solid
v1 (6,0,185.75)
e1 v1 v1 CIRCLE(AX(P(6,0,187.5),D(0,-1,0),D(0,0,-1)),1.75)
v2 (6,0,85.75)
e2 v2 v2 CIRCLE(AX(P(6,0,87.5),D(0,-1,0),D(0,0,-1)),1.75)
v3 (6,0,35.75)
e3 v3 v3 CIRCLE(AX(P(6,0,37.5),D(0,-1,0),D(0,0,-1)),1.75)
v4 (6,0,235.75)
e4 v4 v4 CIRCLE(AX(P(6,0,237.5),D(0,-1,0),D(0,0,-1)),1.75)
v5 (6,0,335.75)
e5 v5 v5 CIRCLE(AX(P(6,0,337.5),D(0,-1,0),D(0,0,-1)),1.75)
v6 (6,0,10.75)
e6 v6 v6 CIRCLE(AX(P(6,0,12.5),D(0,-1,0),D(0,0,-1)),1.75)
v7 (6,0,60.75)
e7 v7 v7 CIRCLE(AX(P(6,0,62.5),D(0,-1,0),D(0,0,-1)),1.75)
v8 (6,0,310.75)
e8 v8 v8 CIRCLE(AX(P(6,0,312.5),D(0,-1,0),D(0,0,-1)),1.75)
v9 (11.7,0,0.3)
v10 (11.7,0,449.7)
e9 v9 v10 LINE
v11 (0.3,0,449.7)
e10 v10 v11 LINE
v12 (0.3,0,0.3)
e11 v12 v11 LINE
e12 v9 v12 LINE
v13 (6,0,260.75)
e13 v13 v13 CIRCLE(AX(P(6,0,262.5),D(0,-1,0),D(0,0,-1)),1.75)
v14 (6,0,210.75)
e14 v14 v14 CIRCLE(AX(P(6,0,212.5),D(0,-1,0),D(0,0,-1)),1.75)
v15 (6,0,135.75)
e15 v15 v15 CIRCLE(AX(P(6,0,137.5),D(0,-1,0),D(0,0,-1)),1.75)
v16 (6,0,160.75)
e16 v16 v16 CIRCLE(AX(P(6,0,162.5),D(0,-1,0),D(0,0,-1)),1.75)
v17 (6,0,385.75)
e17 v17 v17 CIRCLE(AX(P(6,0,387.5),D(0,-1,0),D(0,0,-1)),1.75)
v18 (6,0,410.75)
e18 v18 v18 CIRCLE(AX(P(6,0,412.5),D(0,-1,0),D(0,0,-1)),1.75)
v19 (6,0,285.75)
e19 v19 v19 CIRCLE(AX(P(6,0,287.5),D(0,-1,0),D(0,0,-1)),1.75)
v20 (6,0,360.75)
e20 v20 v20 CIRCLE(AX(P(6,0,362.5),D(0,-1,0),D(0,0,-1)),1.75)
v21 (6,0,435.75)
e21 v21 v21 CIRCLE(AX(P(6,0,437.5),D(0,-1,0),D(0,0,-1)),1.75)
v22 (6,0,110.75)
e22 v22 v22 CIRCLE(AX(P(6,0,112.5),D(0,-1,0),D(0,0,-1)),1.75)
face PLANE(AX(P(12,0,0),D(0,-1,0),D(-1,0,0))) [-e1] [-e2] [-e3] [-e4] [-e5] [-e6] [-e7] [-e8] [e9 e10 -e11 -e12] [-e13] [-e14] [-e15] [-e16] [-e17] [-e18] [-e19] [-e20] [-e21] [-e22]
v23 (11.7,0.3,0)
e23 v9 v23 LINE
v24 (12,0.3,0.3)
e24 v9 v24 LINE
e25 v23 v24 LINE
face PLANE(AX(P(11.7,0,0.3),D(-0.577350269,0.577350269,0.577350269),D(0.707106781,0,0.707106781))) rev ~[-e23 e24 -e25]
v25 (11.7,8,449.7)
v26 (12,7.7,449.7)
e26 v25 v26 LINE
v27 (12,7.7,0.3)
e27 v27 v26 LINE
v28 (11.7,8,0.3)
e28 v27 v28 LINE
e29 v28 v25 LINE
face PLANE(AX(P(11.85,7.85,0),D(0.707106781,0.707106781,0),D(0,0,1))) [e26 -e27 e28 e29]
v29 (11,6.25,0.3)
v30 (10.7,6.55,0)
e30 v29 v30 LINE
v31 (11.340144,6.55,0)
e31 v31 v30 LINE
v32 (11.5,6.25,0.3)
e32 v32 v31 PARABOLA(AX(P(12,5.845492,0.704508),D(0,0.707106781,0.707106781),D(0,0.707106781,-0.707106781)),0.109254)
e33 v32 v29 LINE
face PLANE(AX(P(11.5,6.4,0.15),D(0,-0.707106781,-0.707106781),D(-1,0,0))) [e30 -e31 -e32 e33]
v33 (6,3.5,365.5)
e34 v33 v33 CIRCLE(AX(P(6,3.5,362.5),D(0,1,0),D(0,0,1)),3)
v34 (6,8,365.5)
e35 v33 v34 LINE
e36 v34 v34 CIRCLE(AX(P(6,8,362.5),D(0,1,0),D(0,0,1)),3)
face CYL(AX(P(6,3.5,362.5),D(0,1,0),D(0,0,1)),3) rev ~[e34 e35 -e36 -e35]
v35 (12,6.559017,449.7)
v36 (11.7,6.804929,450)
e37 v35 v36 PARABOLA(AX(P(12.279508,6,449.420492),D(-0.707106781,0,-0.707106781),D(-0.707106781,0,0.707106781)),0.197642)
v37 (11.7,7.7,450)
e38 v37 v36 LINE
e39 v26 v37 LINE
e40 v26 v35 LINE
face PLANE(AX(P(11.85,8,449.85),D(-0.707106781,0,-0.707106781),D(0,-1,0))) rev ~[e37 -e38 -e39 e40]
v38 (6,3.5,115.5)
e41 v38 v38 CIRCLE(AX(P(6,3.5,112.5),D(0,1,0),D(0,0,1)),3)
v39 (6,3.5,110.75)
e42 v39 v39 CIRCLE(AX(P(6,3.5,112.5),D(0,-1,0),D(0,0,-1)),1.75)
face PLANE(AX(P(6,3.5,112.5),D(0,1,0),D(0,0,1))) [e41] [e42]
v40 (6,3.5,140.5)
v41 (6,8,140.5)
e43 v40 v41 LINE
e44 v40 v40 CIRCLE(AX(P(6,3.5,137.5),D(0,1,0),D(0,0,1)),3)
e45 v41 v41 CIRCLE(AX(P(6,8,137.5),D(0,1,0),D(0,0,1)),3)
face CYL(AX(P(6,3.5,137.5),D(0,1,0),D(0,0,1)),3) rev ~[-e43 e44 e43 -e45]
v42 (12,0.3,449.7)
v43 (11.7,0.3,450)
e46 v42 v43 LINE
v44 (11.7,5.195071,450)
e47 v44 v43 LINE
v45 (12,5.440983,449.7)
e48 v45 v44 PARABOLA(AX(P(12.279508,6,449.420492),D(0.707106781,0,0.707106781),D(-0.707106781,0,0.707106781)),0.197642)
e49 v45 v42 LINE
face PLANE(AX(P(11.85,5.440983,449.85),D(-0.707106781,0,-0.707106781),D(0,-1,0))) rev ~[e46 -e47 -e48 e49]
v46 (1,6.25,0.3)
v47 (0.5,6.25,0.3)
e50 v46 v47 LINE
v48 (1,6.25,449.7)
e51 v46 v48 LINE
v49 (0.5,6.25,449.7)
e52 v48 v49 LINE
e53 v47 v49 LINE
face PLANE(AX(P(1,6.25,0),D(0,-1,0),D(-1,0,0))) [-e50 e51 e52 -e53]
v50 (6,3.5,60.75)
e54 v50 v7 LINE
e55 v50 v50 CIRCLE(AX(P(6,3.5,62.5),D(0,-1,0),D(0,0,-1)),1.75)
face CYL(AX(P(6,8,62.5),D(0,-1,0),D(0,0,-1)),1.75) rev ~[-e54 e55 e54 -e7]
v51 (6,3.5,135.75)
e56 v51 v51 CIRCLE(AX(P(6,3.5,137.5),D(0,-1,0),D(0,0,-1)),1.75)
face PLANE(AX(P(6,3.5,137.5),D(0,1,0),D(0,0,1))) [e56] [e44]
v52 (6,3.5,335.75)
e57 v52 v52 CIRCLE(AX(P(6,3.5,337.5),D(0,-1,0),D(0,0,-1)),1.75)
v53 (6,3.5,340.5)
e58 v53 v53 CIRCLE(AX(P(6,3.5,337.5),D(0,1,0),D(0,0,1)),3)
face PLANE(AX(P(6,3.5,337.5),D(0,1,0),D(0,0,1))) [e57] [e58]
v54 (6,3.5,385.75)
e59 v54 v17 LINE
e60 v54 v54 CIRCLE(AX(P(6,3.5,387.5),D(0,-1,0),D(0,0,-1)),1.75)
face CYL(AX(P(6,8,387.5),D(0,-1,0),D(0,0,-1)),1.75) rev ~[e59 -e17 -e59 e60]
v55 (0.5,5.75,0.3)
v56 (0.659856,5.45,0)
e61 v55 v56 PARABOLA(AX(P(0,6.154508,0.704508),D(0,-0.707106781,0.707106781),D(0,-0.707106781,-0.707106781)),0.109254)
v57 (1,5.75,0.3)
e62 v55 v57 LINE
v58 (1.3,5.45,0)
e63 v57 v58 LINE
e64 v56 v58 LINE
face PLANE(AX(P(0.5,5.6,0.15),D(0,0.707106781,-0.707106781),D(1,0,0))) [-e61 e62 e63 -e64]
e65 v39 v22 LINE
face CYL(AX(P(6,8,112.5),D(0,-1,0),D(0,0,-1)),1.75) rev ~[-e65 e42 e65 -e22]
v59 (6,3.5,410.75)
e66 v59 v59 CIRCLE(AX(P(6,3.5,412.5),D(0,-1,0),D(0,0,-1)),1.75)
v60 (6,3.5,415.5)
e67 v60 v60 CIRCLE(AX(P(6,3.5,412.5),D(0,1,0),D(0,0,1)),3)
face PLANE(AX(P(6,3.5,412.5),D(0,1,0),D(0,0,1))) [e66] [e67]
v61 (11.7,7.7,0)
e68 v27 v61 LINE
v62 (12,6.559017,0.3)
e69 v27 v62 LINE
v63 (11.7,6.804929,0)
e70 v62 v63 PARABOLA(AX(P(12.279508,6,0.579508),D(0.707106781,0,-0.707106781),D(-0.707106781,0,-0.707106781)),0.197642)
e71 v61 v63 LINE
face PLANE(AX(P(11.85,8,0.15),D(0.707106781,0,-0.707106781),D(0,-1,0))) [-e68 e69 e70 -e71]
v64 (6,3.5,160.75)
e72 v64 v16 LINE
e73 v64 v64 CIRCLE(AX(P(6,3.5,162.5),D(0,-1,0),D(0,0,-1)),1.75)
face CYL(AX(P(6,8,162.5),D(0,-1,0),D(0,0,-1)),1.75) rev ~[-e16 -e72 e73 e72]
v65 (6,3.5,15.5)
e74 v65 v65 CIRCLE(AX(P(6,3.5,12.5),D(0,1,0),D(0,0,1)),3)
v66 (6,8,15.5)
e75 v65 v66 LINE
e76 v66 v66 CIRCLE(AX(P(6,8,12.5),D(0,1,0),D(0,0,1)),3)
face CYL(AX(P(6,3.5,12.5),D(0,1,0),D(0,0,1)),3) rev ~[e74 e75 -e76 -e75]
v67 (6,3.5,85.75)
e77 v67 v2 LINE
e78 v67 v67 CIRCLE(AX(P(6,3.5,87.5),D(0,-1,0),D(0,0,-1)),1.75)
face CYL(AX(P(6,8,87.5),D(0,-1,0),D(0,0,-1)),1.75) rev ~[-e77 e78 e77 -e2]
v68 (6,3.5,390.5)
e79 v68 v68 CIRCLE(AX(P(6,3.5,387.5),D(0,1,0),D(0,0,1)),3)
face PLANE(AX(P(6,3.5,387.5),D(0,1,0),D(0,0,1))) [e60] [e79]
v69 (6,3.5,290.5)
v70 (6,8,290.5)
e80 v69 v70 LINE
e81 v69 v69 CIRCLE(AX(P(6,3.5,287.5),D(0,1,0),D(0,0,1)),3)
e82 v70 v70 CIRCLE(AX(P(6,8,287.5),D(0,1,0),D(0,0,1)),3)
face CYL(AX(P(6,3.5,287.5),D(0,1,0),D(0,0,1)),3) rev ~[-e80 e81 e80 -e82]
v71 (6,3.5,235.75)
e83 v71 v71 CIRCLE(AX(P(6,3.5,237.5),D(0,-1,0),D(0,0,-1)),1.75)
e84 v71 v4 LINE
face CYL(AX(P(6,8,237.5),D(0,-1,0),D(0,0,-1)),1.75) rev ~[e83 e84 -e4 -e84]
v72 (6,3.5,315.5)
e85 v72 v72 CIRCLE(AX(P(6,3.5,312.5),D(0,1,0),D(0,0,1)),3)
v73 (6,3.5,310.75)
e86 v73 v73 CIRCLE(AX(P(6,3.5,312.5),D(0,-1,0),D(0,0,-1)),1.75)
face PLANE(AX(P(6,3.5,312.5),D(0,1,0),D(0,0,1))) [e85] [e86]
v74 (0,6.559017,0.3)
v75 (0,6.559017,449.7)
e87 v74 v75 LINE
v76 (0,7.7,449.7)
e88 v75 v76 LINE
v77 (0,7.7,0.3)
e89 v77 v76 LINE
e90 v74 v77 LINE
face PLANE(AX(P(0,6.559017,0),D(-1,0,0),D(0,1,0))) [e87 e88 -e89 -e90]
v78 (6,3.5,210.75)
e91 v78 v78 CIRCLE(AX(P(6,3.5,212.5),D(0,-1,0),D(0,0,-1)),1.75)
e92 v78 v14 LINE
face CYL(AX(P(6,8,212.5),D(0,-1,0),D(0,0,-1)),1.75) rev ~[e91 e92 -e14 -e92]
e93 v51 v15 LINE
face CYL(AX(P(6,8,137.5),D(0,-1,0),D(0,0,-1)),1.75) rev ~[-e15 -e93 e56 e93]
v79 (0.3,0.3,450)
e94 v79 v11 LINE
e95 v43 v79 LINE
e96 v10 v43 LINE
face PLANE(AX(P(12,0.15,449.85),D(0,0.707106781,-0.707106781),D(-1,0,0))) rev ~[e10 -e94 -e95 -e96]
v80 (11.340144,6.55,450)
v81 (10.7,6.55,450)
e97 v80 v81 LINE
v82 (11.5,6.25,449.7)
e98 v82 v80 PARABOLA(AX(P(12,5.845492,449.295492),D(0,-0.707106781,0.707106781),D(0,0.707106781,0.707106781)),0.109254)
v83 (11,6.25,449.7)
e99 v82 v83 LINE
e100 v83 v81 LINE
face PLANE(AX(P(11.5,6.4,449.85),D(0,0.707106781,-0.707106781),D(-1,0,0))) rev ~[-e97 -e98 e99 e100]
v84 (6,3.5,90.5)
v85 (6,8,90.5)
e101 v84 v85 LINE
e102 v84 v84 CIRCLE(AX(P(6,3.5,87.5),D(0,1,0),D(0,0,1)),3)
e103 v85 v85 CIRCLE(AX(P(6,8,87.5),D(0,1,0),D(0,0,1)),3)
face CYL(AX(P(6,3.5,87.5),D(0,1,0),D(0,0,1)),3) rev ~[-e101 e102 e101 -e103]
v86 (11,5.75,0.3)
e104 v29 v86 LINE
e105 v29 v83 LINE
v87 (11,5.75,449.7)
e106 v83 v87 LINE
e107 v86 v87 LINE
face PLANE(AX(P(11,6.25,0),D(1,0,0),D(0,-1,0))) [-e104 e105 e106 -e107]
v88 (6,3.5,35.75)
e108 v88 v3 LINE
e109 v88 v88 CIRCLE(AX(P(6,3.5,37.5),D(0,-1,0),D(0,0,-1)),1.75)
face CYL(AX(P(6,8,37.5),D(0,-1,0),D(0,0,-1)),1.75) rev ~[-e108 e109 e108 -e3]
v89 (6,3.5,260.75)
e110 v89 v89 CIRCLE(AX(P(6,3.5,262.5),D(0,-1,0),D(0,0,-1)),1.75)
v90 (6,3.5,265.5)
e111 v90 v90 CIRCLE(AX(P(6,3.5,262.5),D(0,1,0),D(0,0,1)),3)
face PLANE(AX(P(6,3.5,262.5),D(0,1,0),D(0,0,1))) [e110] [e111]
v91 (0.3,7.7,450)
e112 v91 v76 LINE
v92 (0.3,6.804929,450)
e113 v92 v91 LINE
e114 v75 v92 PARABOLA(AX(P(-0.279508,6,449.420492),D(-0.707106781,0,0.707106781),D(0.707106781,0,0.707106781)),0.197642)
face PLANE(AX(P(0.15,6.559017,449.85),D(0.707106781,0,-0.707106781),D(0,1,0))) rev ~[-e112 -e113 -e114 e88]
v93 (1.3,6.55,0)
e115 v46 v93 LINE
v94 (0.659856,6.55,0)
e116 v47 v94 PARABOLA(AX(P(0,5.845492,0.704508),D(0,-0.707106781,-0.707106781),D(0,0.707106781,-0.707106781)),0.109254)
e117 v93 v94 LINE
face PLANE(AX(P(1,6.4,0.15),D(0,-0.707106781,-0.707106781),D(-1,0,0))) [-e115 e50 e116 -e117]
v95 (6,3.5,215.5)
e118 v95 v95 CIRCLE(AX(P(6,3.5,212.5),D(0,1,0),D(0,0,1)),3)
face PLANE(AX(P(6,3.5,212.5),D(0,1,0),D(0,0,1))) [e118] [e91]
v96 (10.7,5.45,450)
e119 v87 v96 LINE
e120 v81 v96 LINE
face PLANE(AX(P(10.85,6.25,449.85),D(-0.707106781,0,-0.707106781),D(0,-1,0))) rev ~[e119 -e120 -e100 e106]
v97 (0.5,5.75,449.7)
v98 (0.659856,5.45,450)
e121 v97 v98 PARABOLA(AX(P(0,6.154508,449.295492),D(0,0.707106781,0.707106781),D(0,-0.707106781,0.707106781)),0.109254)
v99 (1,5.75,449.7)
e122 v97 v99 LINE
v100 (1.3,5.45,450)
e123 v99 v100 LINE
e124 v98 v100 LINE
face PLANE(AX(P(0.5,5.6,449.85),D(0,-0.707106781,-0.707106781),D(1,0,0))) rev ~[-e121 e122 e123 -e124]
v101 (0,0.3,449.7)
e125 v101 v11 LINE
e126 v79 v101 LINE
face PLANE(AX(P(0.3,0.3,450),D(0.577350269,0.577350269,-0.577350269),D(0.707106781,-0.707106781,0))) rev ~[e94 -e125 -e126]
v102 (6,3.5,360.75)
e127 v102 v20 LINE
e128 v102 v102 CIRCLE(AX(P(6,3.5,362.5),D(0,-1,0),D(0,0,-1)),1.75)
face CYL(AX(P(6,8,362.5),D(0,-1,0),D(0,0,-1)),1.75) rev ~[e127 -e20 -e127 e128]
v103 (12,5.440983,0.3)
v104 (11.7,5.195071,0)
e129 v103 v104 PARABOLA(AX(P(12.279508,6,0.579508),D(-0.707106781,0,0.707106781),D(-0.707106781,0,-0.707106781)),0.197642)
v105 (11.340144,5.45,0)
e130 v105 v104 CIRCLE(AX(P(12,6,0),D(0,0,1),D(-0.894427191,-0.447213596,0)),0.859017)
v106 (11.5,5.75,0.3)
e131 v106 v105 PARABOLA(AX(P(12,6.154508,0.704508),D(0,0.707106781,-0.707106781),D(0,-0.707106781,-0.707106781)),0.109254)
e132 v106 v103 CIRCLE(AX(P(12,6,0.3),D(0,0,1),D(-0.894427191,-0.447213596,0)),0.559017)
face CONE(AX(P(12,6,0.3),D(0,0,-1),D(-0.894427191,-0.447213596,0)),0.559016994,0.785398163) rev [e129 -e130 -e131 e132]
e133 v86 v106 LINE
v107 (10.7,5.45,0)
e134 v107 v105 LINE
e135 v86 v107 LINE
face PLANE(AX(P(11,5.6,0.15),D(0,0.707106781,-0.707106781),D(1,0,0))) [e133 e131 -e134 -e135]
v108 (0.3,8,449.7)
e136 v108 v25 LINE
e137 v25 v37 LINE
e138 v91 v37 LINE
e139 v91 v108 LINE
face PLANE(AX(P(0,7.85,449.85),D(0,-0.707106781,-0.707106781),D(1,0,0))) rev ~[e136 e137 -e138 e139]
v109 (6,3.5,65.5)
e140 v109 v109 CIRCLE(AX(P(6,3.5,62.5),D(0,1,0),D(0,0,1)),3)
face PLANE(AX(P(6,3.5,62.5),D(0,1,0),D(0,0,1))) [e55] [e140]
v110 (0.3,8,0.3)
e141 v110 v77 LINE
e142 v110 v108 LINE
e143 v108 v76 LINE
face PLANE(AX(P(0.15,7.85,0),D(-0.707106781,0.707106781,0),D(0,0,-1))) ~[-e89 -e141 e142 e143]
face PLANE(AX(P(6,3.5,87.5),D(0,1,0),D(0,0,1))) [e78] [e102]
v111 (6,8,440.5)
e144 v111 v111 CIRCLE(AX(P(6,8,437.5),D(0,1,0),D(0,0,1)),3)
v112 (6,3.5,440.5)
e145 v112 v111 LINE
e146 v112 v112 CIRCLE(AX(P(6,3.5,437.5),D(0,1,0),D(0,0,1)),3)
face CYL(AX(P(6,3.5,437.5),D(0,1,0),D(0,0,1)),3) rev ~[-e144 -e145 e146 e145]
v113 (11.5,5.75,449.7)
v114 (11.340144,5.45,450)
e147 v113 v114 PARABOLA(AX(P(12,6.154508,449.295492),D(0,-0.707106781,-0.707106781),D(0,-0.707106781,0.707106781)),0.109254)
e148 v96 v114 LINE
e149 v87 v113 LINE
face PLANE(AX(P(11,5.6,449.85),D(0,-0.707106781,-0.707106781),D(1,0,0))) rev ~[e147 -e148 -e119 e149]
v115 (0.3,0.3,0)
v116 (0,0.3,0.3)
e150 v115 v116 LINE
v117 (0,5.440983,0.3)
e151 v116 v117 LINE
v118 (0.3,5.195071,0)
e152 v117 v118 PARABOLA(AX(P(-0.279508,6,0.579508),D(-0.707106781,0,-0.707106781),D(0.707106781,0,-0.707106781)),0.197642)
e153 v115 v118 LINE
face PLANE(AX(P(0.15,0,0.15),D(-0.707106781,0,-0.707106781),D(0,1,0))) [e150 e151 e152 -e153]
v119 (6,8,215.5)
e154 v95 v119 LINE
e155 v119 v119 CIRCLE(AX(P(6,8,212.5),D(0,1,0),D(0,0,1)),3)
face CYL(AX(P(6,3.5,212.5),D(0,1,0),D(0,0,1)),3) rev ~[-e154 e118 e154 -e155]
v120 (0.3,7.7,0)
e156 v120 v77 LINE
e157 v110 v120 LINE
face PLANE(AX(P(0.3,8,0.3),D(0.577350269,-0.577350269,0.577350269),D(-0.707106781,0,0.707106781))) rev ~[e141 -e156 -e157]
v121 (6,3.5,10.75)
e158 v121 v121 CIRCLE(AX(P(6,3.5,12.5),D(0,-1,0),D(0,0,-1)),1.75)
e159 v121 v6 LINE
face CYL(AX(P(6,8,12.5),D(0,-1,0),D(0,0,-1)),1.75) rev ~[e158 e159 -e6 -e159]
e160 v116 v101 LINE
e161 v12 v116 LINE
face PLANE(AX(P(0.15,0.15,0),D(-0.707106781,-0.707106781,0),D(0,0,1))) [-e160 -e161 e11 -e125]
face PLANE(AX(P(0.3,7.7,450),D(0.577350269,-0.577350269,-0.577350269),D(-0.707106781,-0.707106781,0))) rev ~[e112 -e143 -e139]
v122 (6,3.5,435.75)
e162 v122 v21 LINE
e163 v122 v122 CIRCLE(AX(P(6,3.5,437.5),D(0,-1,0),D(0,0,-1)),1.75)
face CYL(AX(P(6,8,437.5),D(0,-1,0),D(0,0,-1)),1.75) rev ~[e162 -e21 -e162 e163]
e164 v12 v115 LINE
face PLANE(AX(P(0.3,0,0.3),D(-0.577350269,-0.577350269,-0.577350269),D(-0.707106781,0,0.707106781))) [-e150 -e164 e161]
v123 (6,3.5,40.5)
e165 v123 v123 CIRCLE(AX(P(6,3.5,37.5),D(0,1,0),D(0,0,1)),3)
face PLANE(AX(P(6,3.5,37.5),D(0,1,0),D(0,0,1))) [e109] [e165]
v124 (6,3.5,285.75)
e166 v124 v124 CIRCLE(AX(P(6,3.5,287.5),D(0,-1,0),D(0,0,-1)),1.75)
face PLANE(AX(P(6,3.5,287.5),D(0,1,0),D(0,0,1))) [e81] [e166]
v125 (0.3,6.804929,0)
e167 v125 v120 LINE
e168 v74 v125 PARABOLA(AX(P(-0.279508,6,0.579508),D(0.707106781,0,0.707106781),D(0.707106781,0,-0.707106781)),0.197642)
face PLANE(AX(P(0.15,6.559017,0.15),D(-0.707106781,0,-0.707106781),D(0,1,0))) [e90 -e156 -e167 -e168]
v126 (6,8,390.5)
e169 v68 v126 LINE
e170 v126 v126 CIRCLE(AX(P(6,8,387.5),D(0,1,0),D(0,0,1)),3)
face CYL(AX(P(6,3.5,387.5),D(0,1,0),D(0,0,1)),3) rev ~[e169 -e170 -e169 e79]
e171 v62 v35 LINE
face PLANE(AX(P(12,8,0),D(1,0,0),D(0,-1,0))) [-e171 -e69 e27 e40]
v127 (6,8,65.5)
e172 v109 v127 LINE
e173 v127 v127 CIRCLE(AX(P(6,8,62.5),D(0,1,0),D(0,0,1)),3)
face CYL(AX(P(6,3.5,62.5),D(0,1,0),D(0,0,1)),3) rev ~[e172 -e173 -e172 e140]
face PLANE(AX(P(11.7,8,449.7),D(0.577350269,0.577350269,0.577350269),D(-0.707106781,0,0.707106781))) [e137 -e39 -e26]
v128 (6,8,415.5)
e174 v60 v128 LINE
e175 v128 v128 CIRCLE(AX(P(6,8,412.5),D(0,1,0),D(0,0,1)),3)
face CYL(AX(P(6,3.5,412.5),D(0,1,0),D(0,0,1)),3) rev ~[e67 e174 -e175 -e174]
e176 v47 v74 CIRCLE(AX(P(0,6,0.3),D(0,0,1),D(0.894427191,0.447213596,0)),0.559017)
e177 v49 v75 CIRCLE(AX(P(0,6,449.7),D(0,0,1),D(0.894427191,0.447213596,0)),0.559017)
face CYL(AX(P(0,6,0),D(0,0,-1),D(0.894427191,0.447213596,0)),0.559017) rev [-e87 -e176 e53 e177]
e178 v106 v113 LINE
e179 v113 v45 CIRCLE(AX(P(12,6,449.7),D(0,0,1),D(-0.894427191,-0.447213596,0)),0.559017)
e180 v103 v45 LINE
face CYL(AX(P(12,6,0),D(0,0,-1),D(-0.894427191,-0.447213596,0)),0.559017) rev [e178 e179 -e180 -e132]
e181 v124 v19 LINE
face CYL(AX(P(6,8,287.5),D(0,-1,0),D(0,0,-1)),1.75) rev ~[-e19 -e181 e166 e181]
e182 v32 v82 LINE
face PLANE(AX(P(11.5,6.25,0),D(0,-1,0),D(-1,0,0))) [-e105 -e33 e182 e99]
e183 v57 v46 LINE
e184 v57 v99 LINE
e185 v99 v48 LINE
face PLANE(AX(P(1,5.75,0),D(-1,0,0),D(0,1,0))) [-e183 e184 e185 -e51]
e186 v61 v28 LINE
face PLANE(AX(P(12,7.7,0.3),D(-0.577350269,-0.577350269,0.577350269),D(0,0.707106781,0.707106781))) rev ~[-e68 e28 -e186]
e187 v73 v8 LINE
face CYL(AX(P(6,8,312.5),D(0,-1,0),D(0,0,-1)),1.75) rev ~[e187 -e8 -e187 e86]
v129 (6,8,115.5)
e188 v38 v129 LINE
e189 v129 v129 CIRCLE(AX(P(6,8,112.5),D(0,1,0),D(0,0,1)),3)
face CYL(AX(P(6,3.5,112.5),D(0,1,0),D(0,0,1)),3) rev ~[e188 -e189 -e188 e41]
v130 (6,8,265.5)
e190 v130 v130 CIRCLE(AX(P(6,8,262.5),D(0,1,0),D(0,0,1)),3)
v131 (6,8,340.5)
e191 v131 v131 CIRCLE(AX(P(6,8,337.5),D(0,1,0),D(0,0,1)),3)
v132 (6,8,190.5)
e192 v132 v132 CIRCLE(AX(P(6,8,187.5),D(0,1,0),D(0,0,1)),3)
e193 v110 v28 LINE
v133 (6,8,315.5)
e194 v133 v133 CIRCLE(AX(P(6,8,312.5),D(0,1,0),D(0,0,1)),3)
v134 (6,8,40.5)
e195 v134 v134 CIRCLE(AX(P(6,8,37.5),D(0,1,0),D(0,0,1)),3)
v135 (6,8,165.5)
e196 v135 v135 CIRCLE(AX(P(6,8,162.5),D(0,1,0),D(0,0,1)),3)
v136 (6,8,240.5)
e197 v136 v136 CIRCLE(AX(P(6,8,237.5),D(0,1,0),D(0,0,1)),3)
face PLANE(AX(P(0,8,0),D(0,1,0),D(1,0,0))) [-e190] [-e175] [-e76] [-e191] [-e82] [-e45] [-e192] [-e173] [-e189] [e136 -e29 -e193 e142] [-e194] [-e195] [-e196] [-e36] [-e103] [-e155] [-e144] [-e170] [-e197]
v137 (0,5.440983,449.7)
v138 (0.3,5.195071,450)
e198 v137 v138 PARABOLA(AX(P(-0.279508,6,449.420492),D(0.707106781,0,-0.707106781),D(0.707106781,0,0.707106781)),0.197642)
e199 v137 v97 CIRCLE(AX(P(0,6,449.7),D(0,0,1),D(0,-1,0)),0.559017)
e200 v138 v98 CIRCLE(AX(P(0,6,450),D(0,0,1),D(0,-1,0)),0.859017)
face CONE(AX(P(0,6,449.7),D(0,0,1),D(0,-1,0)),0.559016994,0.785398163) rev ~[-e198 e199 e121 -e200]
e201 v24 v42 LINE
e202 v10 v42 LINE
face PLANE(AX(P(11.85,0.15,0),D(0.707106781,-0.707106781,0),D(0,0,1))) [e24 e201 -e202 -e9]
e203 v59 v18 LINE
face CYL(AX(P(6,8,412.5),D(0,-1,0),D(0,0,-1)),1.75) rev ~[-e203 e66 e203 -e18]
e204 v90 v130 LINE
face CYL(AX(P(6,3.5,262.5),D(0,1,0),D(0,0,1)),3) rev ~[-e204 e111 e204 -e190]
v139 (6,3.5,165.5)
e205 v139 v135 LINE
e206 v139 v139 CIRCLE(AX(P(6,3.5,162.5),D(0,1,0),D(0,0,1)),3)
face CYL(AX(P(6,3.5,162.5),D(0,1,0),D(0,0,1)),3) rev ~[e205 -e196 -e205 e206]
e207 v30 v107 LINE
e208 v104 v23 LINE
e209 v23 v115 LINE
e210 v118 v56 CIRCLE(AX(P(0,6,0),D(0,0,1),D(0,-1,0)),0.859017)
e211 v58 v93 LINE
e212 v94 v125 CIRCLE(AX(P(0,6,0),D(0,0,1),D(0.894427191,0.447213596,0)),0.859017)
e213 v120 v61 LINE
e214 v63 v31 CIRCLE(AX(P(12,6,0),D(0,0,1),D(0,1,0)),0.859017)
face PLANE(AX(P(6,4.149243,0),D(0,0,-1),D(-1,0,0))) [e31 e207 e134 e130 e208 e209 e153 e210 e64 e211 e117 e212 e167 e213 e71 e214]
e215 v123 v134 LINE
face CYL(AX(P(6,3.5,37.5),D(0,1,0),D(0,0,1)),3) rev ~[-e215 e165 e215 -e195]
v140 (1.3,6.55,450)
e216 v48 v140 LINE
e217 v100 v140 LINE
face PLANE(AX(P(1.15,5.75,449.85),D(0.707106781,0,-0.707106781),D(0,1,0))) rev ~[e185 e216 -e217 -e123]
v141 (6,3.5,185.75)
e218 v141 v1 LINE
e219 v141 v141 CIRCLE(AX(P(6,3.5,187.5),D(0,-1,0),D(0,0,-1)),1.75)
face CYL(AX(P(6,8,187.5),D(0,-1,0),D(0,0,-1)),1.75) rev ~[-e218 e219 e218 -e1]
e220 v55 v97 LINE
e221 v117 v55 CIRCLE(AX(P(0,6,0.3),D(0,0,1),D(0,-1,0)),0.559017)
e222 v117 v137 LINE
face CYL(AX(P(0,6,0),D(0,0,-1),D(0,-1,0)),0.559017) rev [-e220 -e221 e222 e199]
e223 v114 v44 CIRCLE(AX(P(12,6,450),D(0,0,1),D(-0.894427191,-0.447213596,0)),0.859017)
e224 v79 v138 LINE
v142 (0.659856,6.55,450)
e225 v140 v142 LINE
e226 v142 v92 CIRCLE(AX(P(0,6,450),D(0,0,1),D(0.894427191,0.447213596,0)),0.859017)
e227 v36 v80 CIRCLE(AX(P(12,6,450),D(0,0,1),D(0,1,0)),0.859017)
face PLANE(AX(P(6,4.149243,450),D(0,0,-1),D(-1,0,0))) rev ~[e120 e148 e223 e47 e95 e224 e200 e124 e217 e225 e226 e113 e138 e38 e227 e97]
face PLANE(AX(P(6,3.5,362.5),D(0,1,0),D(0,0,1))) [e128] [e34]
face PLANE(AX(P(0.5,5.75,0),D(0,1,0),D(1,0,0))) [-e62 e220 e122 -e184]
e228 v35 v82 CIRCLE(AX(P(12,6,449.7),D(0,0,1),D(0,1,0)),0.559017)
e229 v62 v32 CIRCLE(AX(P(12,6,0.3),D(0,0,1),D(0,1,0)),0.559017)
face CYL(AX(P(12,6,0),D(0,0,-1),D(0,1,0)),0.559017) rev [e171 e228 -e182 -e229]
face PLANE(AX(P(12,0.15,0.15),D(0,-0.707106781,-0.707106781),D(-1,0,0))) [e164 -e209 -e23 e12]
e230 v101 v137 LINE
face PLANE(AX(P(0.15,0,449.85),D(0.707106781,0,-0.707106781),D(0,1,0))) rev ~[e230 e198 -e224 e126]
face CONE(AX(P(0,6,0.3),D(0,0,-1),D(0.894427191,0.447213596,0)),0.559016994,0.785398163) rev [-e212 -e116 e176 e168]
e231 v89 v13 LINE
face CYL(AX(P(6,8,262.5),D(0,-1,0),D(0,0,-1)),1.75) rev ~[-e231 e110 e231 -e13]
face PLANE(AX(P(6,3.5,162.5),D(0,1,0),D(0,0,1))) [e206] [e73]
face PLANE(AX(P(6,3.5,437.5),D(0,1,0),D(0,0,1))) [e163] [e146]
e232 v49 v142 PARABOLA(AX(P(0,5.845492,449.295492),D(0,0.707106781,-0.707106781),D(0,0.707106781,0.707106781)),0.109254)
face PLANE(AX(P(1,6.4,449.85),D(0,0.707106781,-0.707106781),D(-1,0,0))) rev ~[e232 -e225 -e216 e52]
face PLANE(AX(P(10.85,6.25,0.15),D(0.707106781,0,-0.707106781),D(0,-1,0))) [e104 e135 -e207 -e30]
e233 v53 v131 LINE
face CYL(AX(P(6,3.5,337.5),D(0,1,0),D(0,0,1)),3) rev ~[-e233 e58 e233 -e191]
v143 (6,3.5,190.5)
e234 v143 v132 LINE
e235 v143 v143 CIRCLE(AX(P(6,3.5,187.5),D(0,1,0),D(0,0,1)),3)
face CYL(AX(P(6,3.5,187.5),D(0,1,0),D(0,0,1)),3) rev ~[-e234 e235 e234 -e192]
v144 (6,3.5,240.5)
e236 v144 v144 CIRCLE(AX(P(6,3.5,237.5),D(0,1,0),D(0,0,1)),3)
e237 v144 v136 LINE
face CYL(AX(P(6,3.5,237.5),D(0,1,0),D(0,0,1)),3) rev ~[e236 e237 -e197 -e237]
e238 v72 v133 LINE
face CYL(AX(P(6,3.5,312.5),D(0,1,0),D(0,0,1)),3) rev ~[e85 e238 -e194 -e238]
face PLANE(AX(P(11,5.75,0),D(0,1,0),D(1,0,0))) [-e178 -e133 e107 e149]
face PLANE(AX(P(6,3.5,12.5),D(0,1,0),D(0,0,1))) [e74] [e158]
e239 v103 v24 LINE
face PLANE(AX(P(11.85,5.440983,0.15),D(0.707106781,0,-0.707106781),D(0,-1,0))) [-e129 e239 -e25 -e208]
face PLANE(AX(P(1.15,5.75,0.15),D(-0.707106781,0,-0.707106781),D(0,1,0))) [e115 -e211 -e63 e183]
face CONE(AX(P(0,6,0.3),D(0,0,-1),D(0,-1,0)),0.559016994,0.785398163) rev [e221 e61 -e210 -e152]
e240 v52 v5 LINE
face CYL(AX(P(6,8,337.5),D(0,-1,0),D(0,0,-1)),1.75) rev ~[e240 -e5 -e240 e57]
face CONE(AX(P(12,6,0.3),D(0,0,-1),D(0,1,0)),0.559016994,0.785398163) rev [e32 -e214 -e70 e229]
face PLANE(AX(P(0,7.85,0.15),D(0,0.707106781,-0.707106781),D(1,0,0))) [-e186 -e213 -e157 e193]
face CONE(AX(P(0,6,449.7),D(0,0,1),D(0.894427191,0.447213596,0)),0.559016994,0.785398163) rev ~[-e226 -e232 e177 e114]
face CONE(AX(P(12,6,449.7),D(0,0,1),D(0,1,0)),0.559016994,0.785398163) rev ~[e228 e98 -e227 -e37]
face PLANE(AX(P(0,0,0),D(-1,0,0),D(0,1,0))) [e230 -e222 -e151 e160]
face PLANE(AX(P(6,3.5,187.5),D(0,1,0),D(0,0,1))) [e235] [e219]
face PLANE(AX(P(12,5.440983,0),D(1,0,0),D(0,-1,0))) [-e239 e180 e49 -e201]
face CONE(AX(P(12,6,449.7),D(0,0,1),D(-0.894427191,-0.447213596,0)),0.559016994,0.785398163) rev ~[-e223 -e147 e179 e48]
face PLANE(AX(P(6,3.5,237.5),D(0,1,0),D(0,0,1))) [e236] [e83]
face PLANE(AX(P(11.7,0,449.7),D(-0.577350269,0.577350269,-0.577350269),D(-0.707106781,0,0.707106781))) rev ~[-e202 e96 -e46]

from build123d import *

# Parameters (mm, degrees)
BOSS_EXTRUDE1_DEPTH                     = 450
CHAMFER1_SIZE                           = 0.3
CBORE_FOR_M5_HEX_HEAD_BOLT1_D           = 3.5
CBORE_FOR_M5_HEX_HEAD_BOLT1_CBORE_D     = 6
CBORE_FOR_M5_HEX_HEAD_BOLT1_CBORE_DEPTH = 4.5
LPATTERN1_COUNT                         = 18
LPATTERN1_PITCH                         = 25


with BuildPart() as part:
    # Sketch1 → Boss-Extrude1 (new body)
    with BuildSketch(Plane.XY):
        with BuildLine():
            Line((0, 8), (12, 8))
            Line((12, 8), (12, 6.75))
            Line((12, 6.75), (12, 6.559016994))
            ThreePointArc((12, 6.559016994), (11.706107374, 6.475528258), (11.5, 6.25))
            Line((11.5, 6.25), (11, 6.25))
            Line((11, 6.25), (11, 5.75))
            Line((11, 5.75), (11.5, 5.75))
            ThreePointArc((11.5, 5.75), (11.706107374, 5.524471742), (12, 5.440983006))
            Line((12, 5.440983006), (12, 5.25))
            Line((12, 5.25), (12, 0))
            Line((12, 0), (0, 0))
            Line((0, 0), (0, 5.25))
            Line((0, 5.25), (0, 5.440983006))
            ThreePointArc((0, 5.440983006), (0.293892626, 5.524471742), (0.5, 5.75))
            Line((0.5, 5.75), (1, 5.75))
            Line((1, 5.75), (1, 6.25))
            Line((1, 6.25), (0.5, 6.25))
            ThreePointArc((0.5, 6.25), (0.293892626, 6.475528258), (0, 6.559016994))
            Line((0, 6.559016994), (0, 6.75))
            Line((0, 6.75), (0, 8))
        make_face()
    extrude(amount=BOSS_EXTRUDE1_DEPTH)

    # Chamfer1
    chamfer1_edges = [part.edges().sort_by_distance(p)[0] for p in [
        (12, 2.720491503, 450),
        (11.706107374, 5.524471742, 450),
        (0, 2.720491503, 0),
        (0.293892626, 5.524471742, 0),
        (0.75, 5.75, 0),
        (1, 6, 0),
        (0.75, 6.25, 0),
        (11.25, 5.75, 450),
        (0.293892626, 6.475528258, 0),
        (0, 7.279508497, 0),
        (6, 8, 0),
        (12, 7.279508497, 0),
        (11.706107374, 6.475528258, 0),
        (11, 6, 450),
        (11.25, 6.25, 0),
        (11, 6, 0),
        (11.25, 5.75, 0),
        (11.706107374, 5.524471742, 0),
        (12, 2.720491503, 0),
        (6, 0, 0),
        (11.25, 6.25, 450),
        (11.706107374, 6.475528258, 450),
        (12, 7.279508497, 450),
        (0, 8, 225),
        (12, 8, 225),
        (12, 0, 225),
        (0, 0, 225),
        (6, 8, 450),
        (0, 2.720491503, 450),
        (0, 7.279508497, 450),
        (0.293892626, 6.475528258, 450),
        (0.75, 6.25, 450),
        (1, 6, 450),
        (0.75, 5.75, 450),
        (0.293892626, 5.524471742, 450),
        (6, 0, 450),
    ]]
    chamfer(chamfer1_edges, length=CHAMFER1_SIZE)

    # CBORE for M5 Hex Head Bolt1 (through all)
    with Locations(Plane(origin=(6, 8, 12.5), x_dir=(0, 0, 1), z_dir=(0, 1, 0))):
        with Locations((0, 0)):
            cbore_for_m5_hex_head_bolt1 = CounterBoreHole(CBORE_FOR_M5_HEX_HEAD_BOLT1_D / 2, CBORE_FOR_M5_HEX_HEAD_BOLT1_CBORE_D / 2, CBORE_FOR_M5_HEX_HEAD_BOLT1_CBORE_DEPTH)

    # LPattern1: CBORE for M5 Hex Head Bolt1 ×18
    with Locations(*[(0, 0, i * LPATTERN1_PITCH) for i in range(1, LPATTERN1_COUNT)]):
        add(cbore_for_m5_hex_head_bolt1, mode=Mode.SUBTRACT)


solid = part.part
